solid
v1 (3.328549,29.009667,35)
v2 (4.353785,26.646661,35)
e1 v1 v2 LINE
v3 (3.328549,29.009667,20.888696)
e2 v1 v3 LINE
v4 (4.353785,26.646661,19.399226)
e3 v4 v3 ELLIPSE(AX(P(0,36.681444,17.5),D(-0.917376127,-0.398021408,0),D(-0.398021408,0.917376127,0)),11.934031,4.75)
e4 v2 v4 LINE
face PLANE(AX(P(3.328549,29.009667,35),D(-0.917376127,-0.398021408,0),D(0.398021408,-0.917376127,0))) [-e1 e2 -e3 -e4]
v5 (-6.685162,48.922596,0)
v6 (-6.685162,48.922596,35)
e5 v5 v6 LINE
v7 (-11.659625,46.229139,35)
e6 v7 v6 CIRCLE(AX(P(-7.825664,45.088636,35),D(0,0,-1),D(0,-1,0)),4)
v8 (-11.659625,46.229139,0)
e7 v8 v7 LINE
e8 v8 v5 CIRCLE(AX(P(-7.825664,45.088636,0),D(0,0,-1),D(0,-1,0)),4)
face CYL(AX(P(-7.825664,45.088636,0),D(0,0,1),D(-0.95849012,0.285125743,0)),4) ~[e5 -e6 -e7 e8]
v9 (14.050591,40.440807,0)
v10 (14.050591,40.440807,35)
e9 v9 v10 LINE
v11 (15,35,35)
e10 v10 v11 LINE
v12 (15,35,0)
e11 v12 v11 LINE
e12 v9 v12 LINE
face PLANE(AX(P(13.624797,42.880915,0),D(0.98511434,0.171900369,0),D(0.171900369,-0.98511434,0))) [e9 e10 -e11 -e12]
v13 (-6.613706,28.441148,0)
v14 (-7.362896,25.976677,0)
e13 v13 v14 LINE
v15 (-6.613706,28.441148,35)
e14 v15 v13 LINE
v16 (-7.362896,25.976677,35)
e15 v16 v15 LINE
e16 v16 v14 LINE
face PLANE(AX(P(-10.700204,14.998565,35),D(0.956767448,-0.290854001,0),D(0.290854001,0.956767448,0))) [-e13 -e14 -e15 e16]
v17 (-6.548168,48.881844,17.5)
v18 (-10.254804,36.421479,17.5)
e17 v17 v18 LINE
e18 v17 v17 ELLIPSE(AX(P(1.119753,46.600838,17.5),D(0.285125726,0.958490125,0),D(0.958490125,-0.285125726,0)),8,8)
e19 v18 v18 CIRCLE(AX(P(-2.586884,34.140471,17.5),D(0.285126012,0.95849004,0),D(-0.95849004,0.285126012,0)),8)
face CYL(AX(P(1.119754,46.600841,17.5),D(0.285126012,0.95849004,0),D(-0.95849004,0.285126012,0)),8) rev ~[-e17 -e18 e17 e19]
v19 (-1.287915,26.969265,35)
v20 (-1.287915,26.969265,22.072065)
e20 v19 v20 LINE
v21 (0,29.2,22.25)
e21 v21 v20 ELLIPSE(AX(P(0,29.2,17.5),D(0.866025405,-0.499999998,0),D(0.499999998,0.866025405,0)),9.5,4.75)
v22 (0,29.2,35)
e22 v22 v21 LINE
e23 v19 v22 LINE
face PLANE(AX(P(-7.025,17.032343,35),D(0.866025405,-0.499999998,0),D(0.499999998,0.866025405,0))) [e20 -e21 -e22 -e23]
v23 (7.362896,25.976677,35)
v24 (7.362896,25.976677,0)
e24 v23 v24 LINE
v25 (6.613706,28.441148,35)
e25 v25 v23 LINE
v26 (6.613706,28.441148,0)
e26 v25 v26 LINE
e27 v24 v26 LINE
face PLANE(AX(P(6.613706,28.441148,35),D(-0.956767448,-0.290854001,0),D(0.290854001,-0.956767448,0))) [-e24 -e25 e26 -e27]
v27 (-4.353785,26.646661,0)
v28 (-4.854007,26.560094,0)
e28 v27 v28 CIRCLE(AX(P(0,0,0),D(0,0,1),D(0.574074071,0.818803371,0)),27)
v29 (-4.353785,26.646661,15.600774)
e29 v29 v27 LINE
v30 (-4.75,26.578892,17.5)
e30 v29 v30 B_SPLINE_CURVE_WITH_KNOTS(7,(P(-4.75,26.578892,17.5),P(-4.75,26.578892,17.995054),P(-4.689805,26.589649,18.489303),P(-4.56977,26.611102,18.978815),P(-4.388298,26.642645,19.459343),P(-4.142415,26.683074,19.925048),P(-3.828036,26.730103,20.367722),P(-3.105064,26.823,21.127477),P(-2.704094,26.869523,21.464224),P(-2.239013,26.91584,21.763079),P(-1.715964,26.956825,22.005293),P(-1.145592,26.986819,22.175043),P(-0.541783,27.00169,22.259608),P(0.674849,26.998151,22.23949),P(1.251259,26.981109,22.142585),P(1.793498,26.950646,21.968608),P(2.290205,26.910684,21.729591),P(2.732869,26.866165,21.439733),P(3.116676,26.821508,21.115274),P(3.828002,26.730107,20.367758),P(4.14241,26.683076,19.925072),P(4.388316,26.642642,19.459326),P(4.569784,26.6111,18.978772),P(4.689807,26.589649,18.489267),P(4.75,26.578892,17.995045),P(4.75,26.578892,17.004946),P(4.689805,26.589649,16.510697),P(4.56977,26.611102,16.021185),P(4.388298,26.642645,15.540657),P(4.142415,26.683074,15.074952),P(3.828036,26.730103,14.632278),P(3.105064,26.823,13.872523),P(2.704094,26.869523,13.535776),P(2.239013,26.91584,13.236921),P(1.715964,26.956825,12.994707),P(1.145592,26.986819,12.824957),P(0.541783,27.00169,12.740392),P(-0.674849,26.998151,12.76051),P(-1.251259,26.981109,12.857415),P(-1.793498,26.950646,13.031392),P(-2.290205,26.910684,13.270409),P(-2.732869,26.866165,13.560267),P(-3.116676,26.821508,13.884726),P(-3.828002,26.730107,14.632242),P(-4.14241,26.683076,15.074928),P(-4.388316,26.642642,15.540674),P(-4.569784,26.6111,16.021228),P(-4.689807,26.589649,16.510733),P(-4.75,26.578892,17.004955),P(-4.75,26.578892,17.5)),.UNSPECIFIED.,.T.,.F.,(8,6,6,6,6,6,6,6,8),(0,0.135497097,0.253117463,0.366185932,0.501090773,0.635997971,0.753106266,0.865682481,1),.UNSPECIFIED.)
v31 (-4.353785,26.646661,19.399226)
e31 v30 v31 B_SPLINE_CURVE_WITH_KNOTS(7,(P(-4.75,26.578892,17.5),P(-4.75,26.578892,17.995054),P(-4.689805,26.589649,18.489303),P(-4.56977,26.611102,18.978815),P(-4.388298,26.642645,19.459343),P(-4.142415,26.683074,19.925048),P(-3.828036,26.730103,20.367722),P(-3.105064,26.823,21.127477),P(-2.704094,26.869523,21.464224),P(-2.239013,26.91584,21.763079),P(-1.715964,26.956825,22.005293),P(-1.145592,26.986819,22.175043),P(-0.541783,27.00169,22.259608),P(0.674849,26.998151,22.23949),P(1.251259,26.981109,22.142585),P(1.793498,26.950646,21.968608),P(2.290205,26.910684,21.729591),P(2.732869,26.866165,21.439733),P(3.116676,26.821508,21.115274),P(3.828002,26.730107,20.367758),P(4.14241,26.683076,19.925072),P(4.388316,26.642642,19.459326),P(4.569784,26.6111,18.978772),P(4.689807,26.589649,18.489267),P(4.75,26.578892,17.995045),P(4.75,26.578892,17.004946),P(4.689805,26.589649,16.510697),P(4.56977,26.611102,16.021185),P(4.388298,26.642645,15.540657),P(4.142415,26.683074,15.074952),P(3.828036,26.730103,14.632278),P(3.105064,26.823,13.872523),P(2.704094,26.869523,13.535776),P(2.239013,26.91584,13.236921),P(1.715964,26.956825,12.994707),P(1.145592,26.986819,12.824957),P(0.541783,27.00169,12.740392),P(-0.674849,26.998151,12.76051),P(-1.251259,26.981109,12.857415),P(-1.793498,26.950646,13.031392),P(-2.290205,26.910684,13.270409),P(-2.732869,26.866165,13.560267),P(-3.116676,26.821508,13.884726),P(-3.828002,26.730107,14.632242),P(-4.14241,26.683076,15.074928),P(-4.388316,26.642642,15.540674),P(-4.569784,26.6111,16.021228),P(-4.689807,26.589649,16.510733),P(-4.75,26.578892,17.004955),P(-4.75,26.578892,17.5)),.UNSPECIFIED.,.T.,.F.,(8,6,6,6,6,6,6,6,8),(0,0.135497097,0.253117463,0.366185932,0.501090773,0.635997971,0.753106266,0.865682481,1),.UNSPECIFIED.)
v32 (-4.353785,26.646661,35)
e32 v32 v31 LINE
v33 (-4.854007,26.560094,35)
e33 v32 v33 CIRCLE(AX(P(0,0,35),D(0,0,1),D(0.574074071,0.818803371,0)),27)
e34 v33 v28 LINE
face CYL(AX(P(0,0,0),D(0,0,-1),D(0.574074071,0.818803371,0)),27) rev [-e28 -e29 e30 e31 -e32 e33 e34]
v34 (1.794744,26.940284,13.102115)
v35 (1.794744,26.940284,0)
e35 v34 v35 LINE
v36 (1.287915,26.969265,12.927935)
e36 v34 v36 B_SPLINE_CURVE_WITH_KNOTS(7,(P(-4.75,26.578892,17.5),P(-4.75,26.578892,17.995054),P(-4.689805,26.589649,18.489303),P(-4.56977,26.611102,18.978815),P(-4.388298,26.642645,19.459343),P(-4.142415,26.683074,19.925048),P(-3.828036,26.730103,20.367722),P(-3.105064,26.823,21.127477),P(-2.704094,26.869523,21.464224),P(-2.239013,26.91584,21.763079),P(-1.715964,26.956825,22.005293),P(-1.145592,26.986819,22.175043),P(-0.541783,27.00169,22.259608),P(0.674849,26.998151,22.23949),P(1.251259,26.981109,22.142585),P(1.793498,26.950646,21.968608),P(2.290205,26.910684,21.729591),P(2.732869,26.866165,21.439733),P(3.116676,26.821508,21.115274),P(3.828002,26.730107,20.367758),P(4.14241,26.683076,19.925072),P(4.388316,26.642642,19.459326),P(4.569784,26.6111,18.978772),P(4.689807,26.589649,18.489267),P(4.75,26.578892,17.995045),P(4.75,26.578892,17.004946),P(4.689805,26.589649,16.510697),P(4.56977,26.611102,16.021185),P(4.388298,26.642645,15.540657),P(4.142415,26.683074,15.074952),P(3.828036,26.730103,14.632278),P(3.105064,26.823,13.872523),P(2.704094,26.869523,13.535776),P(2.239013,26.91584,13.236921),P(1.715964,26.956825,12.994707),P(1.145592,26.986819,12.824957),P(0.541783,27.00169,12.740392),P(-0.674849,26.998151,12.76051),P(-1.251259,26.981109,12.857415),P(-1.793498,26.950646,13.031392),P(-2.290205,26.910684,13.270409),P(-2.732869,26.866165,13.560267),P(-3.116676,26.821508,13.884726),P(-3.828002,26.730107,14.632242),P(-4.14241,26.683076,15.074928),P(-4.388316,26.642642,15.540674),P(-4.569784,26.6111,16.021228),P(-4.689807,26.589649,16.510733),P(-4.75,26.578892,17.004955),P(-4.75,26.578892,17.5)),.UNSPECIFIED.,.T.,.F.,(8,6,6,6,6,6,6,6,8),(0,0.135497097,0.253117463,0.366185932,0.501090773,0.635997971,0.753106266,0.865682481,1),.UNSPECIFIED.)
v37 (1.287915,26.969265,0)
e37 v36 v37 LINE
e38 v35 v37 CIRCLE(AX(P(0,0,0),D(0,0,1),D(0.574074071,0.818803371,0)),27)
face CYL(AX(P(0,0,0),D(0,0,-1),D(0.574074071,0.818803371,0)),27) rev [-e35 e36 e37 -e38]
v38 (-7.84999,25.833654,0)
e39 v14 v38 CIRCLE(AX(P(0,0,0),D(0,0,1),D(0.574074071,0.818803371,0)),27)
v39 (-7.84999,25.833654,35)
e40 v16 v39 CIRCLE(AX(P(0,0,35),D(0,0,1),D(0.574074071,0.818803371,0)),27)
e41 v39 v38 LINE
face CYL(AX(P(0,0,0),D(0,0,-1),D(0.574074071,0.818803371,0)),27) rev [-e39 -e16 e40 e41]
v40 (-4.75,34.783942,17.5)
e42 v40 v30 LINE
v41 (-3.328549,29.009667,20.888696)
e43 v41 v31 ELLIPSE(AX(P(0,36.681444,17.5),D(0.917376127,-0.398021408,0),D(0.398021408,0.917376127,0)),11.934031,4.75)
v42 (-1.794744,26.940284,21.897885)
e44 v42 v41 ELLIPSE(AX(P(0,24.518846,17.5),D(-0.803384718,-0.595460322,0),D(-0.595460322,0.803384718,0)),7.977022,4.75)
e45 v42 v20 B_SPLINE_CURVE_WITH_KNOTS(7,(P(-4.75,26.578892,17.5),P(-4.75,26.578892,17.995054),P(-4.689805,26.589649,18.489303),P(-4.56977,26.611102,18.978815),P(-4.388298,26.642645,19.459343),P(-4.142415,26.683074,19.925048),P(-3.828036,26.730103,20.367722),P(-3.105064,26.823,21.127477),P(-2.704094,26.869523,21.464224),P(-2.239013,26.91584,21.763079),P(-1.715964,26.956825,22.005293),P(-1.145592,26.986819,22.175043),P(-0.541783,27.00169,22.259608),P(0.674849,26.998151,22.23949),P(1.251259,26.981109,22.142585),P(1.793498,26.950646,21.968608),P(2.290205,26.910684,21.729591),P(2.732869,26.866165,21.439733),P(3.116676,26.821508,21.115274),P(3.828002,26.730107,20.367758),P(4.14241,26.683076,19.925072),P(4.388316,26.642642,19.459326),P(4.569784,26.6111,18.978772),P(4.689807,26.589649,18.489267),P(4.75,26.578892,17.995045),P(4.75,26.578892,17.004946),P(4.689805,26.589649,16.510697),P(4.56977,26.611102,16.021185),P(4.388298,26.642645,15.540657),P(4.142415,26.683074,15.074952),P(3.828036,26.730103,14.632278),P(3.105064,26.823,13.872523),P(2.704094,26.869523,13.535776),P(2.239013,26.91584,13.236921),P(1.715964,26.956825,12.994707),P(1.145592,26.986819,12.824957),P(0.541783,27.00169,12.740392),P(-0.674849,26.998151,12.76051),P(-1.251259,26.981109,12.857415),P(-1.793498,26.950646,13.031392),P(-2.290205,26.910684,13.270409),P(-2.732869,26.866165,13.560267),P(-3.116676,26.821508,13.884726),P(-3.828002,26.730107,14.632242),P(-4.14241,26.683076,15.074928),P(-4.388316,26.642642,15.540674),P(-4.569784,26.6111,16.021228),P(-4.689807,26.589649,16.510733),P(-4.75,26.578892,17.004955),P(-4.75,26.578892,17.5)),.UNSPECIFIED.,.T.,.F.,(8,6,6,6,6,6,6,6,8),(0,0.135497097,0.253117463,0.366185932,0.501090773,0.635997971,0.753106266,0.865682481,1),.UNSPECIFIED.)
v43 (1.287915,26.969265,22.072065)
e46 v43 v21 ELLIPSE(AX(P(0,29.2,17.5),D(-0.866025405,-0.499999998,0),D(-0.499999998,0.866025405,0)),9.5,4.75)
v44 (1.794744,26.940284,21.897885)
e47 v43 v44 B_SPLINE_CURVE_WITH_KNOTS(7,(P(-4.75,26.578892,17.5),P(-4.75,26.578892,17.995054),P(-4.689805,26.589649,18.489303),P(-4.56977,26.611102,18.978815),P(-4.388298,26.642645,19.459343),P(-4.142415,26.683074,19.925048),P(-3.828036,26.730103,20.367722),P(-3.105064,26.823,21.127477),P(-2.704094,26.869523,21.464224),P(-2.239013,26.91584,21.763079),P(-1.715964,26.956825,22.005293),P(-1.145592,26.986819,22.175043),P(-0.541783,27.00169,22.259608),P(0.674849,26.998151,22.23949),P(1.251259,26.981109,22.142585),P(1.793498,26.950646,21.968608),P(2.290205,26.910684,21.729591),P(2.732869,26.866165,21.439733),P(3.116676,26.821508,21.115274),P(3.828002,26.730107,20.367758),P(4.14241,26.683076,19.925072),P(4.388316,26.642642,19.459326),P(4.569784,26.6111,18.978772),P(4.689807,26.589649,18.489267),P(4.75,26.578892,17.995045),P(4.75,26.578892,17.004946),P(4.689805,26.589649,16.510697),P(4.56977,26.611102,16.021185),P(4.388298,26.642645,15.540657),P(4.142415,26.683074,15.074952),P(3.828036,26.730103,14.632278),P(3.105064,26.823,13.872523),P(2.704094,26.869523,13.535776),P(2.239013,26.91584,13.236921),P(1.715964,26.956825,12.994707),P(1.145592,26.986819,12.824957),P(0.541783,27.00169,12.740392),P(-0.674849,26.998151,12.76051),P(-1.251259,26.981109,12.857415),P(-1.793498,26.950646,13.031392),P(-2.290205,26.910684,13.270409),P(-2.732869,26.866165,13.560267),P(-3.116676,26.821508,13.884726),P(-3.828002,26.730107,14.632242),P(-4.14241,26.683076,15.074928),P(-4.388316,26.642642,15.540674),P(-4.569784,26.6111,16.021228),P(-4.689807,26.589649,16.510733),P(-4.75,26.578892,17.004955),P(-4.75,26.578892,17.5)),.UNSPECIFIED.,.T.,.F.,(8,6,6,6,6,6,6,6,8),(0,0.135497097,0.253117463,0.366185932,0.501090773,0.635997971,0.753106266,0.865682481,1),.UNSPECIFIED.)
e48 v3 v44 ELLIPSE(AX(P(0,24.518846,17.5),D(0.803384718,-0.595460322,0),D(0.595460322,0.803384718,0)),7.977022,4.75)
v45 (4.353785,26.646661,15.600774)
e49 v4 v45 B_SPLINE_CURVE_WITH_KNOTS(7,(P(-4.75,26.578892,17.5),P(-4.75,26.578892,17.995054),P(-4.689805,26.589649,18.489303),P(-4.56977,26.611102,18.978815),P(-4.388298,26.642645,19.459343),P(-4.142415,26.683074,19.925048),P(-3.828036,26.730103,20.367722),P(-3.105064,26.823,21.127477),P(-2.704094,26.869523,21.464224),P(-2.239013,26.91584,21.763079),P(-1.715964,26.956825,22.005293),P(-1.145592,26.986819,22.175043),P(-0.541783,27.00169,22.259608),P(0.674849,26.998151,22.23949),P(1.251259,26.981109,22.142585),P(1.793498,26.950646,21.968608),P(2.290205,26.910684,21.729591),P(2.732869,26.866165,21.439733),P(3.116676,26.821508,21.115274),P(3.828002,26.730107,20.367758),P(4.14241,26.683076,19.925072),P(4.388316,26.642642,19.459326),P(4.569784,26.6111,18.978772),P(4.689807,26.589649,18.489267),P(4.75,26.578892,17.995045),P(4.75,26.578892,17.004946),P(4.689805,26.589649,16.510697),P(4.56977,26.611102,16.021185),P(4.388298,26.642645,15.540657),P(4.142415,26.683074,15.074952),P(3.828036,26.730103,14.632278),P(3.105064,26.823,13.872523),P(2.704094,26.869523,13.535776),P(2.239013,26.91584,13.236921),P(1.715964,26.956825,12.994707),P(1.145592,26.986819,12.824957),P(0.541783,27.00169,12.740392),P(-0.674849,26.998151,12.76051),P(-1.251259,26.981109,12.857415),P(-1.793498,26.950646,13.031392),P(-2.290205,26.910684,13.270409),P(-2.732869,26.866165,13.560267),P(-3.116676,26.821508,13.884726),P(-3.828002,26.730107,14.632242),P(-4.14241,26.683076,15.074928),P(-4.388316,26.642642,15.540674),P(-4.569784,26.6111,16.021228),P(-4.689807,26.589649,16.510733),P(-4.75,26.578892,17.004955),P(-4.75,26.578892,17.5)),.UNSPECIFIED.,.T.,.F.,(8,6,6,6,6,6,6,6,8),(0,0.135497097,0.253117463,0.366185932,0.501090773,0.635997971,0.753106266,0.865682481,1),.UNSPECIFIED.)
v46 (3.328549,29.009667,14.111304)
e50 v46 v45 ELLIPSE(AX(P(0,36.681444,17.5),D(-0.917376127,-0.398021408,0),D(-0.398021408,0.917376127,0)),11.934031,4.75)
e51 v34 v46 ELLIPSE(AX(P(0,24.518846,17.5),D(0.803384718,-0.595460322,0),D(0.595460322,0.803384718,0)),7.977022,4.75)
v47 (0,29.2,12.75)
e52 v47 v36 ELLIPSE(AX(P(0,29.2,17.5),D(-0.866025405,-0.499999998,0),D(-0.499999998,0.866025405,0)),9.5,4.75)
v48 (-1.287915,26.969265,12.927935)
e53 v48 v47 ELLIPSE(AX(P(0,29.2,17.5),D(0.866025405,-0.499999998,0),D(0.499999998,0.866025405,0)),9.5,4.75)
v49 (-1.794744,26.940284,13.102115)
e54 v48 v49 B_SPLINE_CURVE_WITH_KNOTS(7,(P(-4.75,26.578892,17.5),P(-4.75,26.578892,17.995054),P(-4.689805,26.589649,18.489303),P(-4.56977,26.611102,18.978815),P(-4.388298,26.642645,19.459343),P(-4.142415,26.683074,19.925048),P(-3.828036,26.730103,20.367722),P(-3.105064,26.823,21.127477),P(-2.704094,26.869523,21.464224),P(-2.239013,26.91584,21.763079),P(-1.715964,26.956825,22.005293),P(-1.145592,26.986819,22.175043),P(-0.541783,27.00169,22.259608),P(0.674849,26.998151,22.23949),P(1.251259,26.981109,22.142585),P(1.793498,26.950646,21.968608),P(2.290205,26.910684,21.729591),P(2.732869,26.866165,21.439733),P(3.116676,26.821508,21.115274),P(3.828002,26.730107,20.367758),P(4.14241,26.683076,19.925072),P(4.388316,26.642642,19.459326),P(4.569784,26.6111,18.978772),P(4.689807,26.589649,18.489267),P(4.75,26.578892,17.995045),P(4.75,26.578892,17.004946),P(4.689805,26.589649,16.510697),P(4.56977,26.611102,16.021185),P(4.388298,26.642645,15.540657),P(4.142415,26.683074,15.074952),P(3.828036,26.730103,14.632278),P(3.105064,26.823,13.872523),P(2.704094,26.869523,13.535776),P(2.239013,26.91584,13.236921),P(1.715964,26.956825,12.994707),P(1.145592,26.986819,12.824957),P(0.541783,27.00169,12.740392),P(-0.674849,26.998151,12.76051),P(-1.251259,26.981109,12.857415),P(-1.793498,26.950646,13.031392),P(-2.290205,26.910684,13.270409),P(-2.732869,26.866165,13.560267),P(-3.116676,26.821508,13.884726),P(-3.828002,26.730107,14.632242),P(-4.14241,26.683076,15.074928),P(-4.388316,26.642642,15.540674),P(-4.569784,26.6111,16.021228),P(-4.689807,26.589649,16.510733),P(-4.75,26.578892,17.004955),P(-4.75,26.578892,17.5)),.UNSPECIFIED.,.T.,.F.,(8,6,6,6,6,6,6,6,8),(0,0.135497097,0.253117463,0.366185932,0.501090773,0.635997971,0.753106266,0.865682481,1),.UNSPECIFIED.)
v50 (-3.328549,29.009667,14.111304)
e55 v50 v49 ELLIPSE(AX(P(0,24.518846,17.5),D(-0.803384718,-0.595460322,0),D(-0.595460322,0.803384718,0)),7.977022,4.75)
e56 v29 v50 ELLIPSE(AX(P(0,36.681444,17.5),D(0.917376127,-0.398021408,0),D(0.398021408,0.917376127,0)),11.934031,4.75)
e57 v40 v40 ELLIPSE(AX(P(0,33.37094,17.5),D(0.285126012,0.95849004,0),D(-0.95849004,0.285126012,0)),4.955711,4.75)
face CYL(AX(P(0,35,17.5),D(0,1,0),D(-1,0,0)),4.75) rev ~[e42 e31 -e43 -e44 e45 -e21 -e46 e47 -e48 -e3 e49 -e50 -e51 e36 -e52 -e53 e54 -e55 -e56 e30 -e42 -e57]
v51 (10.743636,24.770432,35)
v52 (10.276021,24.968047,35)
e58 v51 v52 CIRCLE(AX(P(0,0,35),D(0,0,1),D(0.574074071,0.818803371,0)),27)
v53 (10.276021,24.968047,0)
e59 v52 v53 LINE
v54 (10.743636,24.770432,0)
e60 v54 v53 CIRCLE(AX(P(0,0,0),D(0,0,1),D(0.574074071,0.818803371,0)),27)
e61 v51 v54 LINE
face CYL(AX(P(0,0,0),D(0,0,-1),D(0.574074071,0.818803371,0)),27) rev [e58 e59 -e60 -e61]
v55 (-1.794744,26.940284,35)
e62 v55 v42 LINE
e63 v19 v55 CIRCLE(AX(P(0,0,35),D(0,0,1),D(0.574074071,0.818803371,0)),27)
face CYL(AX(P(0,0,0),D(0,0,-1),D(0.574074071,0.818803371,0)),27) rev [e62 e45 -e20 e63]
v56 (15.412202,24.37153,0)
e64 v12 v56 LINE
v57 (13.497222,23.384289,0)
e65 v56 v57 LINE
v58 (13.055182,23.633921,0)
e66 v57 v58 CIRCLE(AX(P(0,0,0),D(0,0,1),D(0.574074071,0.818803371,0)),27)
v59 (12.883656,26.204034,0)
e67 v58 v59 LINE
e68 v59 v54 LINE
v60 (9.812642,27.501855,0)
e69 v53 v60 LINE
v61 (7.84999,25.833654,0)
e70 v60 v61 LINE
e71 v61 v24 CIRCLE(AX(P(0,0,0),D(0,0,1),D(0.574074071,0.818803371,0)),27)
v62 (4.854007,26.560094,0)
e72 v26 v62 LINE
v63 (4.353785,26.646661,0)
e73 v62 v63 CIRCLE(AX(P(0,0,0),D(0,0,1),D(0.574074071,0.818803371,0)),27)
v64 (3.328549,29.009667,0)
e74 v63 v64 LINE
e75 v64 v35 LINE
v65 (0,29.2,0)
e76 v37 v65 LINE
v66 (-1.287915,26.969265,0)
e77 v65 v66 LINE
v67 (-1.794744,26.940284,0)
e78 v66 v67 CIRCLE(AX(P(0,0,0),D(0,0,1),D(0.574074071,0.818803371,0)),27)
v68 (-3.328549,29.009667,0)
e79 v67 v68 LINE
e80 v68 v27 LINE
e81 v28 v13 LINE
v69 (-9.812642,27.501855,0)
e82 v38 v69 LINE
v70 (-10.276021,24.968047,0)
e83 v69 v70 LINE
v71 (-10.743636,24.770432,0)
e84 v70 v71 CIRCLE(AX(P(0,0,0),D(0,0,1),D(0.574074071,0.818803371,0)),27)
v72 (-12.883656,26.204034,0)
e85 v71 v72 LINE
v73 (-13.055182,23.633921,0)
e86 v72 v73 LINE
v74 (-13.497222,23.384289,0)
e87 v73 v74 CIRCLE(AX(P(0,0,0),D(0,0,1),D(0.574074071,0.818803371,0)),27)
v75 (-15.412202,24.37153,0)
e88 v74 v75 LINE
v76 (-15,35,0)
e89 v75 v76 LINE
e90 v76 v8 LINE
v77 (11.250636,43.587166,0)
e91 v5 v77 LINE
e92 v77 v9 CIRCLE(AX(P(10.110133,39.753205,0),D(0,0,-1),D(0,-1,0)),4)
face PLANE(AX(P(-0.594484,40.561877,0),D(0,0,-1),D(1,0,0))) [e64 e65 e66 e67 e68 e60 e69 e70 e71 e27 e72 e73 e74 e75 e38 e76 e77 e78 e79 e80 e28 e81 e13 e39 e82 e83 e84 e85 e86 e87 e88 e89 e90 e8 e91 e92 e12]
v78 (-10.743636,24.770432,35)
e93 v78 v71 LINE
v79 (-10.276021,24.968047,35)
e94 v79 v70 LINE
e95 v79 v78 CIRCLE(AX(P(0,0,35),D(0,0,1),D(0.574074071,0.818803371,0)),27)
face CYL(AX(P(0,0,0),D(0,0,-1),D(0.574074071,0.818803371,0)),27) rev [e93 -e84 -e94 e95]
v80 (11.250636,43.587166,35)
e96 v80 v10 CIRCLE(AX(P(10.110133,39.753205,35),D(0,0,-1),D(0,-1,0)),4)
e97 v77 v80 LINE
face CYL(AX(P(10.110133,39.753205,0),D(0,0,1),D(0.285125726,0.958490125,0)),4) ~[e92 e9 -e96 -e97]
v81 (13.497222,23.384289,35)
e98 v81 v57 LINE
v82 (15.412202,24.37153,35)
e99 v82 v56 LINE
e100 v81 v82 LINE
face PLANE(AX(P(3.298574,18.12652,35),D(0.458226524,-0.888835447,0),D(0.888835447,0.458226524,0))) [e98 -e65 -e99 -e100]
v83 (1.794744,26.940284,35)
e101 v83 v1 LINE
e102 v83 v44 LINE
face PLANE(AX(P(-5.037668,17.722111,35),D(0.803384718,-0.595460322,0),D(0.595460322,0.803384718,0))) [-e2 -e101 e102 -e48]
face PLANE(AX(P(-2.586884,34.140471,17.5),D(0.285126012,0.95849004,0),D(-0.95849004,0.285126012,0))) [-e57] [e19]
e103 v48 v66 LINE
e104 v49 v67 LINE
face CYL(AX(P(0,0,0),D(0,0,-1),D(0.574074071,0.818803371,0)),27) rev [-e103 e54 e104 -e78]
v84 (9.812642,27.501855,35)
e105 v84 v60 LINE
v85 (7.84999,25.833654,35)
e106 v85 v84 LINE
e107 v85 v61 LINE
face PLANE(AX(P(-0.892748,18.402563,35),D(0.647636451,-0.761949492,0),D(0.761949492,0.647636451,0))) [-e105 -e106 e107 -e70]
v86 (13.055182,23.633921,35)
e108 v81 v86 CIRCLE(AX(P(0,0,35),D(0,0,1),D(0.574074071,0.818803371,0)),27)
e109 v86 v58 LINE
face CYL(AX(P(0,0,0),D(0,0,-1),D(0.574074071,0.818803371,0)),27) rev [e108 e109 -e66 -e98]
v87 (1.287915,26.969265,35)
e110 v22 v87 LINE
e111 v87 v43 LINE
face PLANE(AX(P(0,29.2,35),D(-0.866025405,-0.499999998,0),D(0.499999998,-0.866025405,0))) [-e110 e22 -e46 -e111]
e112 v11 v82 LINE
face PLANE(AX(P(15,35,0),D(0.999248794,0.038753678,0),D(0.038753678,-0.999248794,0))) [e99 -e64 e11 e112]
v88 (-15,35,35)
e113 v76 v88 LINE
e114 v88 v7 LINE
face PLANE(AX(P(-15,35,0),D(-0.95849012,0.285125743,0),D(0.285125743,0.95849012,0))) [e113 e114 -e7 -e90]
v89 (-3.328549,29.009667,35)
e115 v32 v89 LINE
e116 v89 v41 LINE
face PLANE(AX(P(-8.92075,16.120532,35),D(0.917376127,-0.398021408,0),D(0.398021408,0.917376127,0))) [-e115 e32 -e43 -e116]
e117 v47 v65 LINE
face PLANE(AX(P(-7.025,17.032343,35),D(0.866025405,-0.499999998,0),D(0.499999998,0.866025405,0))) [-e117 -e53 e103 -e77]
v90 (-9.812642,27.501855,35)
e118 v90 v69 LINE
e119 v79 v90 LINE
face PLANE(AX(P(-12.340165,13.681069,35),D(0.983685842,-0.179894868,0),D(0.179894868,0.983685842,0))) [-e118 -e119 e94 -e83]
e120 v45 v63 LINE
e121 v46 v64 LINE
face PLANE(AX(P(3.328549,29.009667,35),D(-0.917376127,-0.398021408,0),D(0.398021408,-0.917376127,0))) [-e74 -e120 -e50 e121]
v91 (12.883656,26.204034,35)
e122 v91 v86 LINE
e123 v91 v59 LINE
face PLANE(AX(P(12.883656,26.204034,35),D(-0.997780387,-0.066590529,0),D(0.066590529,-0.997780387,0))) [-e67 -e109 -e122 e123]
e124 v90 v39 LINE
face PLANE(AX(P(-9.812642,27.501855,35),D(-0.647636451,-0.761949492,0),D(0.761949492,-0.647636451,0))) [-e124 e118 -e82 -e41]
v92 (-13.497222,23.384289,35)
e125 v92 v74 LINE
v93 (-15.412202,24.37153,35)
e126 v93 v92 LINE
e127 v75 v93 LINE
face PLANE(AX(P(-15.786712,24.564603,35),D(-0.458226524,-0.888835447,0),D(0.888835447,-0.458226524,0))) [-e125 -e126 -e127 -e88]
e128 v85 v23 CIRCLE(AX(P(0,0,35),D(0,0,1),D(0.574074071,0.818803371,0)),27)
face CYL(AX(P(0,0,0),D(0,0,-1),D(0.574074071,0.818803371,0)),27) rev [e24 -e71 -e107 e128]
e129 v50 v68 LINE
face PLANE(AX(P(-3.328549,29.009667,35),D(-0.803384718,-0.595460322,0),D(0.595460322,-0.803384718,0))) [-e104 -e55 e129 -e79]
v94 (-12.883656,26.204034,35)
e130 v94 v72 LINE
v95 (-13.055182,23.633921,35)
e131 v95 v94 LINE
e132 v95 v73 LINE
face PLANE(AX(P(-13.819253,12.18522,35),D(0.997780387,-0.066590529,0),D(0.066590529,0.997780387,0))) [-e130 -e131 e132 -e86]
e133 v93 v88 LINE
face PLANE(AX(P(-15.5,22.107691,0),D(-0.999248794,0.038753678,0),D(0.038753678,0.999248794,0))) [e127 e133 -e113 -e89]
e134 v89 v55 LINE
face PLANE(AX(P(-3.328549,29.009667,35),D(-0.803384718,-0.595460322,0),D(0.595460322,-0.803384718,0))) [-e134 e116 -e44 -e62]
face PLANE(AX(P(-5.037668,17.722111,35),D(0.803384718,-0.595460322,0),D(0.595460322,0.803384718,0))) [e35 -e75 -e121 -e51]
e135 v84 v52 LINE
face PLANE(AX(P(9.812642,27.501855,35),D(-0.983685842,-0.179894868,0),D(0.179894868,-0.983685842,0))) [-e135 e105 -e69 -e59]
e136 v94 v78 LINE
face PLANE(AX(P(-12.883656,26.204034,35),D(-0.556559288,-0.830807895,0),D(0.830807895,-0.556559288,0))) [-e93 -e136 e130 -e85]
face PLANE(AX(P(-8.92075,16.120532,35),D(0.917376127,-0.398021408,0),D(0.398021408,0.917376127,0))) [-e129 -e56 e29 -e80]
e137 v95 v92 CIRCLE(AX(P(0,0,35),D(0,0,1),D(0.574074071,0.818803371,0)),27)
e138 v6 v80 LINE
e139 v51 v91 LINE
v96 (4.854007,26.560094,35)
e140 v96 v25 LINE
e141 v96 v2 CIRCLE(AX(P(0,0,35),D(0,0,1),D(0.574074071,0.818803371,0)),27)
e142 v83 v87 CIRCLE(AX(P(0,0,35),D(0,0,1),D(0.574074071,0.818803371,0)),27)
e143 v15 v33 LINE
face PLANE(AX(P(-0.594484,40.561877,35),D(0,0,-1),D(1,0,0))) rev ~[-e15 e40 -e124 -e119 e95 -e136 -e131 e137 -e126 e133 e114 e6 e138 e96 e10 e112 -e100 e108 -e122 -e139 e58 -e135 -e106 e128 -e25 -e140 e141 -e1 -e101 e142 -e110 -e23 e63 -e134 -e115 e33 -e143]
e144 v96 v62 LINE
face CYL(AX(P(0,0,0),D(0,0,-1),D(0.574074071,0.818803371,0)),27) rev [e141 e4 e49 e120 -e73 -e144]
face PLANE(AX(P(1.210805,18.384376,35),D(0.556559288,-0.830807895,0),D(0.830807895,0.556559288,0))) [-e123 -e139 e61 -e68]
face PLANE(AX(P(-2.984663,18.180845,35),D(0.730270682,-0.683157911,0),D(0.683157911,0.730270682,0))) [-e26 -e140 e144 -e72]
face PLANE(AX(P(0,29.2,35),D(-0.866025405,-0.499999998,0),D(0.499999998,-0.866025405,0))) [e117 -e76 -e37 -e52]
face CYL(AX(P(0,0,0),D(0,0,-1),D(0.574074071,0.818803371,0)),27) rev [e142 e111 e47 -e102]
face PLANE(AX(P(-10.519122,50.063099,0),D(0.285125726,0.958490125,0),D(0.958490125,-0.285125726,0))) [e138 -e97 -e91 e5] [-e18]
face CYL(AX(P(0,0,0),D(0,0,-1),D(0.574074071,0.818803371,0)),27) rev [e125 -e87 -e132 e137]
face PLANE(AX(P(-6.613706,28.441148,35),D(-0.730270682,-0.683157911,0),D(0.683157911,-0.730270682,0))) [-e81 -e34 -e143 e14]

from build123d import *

# Parameters (mm, degrees)
PAD_DEPTH          = 35
SKETCH003_R        = 4.75
POCKET_DEPTH       = 12.893309
PAD001_DEPTH       = 35
SKETCH005_R        = 8
POCKET001_DEPTH    = 13
POCKET002_DEPTH    = 143.950619
POLARPATTERN_COUNT = 55
FILLET_R           = 4


with BuildPart() as part:
    # Sketch → Pad (new body)
    with BuildSketch(Plane.XY):
        with BuildLine():
            ThreePointArc((15.5, 22.107691), (0, 27), (-15.5, 22.107691))
            Line((-15.5, 22.107691), (-15, 35))
            Line((-15, 35), (15, 35))
            Line((15, 35), (15.5, 22.107691))
        make_face()
    extrude(amount=PAD_DEPTH)

    # Sketch003 (on Face3 of Pad) → Pocket (cut, through all)
    with BuildSketch(Plane(origin=(0, 35, 0), x_dir=(-1, 0, 0), z_dir=(0, 1, 0))):
        with Locations((0, 17.5)):
            Circle(SKETCH003_R)
    extrude(amount=-POCKET_DEPTH, mode=Mode.SUBTRACT)

    # Sketch004 (on Face3 of Pocket) → Pad001 (join)
    with BuildSketch(Plane(origin=(0, 0, 0), x_dir=(1, 0, 0), z_dir=(0, 0, -1))):
        Polygon((-15, -35), (-10.519122, -50.063099), (13.624797, -42.880915), (15, -35), align=None)
    extrude(amount=-PAD001_DEPTH)

    # Sketch005 (on Face12 of Pad001) → Pocket001 (cut)
    with BuildSketch(Plane(origin=(12.826585, 43.118362, 0), x_dir=(-0.95849, 0.285126, 0), z_dir=(0.285126, 0.95849, 0))):
        with Locations((12.213826, 17.5)):
            Circle(SKETCH005_R)
    extrude(amount=-POCKET001_DEPTH, mode=Mode.SUBTRACT)

    # Sketch001 (on Face4 of Pocket001) → Pocket002 (cut, through all)
    with BuildSketch(Plane.XY.offset(35)):
        Polygon((-7.025, 17.032343), (0, 29.2), (7.025, 17.032343), align=None)
    pocket002 = extrude(amount=-POCKET002_DEPTH, mode=Mode.SUBTRACT)

    # PolarPattern: Pocket002 ×55 about axis
    polarpattern_axis = Axis((0, 0, 35), (0, 0, 1))
    for i in range(1, POLARPATTERN_COUNT):
        add(pocket002.rotate(polarpattern_axis, i * 360 / POLARPATTERN_COUNT), mode=Mode.SUBTRACT)

    # Fillet
    fillet_edges = [part.edges().sort_by_distance(p)[0] for p in [
        (13.624797, 42.880915, 17.5),
        (-10.519122, 50.063099, 17.5),
    ]]
    fillet(fillet_edges, radius=FILLET_R)


solid = part.part
